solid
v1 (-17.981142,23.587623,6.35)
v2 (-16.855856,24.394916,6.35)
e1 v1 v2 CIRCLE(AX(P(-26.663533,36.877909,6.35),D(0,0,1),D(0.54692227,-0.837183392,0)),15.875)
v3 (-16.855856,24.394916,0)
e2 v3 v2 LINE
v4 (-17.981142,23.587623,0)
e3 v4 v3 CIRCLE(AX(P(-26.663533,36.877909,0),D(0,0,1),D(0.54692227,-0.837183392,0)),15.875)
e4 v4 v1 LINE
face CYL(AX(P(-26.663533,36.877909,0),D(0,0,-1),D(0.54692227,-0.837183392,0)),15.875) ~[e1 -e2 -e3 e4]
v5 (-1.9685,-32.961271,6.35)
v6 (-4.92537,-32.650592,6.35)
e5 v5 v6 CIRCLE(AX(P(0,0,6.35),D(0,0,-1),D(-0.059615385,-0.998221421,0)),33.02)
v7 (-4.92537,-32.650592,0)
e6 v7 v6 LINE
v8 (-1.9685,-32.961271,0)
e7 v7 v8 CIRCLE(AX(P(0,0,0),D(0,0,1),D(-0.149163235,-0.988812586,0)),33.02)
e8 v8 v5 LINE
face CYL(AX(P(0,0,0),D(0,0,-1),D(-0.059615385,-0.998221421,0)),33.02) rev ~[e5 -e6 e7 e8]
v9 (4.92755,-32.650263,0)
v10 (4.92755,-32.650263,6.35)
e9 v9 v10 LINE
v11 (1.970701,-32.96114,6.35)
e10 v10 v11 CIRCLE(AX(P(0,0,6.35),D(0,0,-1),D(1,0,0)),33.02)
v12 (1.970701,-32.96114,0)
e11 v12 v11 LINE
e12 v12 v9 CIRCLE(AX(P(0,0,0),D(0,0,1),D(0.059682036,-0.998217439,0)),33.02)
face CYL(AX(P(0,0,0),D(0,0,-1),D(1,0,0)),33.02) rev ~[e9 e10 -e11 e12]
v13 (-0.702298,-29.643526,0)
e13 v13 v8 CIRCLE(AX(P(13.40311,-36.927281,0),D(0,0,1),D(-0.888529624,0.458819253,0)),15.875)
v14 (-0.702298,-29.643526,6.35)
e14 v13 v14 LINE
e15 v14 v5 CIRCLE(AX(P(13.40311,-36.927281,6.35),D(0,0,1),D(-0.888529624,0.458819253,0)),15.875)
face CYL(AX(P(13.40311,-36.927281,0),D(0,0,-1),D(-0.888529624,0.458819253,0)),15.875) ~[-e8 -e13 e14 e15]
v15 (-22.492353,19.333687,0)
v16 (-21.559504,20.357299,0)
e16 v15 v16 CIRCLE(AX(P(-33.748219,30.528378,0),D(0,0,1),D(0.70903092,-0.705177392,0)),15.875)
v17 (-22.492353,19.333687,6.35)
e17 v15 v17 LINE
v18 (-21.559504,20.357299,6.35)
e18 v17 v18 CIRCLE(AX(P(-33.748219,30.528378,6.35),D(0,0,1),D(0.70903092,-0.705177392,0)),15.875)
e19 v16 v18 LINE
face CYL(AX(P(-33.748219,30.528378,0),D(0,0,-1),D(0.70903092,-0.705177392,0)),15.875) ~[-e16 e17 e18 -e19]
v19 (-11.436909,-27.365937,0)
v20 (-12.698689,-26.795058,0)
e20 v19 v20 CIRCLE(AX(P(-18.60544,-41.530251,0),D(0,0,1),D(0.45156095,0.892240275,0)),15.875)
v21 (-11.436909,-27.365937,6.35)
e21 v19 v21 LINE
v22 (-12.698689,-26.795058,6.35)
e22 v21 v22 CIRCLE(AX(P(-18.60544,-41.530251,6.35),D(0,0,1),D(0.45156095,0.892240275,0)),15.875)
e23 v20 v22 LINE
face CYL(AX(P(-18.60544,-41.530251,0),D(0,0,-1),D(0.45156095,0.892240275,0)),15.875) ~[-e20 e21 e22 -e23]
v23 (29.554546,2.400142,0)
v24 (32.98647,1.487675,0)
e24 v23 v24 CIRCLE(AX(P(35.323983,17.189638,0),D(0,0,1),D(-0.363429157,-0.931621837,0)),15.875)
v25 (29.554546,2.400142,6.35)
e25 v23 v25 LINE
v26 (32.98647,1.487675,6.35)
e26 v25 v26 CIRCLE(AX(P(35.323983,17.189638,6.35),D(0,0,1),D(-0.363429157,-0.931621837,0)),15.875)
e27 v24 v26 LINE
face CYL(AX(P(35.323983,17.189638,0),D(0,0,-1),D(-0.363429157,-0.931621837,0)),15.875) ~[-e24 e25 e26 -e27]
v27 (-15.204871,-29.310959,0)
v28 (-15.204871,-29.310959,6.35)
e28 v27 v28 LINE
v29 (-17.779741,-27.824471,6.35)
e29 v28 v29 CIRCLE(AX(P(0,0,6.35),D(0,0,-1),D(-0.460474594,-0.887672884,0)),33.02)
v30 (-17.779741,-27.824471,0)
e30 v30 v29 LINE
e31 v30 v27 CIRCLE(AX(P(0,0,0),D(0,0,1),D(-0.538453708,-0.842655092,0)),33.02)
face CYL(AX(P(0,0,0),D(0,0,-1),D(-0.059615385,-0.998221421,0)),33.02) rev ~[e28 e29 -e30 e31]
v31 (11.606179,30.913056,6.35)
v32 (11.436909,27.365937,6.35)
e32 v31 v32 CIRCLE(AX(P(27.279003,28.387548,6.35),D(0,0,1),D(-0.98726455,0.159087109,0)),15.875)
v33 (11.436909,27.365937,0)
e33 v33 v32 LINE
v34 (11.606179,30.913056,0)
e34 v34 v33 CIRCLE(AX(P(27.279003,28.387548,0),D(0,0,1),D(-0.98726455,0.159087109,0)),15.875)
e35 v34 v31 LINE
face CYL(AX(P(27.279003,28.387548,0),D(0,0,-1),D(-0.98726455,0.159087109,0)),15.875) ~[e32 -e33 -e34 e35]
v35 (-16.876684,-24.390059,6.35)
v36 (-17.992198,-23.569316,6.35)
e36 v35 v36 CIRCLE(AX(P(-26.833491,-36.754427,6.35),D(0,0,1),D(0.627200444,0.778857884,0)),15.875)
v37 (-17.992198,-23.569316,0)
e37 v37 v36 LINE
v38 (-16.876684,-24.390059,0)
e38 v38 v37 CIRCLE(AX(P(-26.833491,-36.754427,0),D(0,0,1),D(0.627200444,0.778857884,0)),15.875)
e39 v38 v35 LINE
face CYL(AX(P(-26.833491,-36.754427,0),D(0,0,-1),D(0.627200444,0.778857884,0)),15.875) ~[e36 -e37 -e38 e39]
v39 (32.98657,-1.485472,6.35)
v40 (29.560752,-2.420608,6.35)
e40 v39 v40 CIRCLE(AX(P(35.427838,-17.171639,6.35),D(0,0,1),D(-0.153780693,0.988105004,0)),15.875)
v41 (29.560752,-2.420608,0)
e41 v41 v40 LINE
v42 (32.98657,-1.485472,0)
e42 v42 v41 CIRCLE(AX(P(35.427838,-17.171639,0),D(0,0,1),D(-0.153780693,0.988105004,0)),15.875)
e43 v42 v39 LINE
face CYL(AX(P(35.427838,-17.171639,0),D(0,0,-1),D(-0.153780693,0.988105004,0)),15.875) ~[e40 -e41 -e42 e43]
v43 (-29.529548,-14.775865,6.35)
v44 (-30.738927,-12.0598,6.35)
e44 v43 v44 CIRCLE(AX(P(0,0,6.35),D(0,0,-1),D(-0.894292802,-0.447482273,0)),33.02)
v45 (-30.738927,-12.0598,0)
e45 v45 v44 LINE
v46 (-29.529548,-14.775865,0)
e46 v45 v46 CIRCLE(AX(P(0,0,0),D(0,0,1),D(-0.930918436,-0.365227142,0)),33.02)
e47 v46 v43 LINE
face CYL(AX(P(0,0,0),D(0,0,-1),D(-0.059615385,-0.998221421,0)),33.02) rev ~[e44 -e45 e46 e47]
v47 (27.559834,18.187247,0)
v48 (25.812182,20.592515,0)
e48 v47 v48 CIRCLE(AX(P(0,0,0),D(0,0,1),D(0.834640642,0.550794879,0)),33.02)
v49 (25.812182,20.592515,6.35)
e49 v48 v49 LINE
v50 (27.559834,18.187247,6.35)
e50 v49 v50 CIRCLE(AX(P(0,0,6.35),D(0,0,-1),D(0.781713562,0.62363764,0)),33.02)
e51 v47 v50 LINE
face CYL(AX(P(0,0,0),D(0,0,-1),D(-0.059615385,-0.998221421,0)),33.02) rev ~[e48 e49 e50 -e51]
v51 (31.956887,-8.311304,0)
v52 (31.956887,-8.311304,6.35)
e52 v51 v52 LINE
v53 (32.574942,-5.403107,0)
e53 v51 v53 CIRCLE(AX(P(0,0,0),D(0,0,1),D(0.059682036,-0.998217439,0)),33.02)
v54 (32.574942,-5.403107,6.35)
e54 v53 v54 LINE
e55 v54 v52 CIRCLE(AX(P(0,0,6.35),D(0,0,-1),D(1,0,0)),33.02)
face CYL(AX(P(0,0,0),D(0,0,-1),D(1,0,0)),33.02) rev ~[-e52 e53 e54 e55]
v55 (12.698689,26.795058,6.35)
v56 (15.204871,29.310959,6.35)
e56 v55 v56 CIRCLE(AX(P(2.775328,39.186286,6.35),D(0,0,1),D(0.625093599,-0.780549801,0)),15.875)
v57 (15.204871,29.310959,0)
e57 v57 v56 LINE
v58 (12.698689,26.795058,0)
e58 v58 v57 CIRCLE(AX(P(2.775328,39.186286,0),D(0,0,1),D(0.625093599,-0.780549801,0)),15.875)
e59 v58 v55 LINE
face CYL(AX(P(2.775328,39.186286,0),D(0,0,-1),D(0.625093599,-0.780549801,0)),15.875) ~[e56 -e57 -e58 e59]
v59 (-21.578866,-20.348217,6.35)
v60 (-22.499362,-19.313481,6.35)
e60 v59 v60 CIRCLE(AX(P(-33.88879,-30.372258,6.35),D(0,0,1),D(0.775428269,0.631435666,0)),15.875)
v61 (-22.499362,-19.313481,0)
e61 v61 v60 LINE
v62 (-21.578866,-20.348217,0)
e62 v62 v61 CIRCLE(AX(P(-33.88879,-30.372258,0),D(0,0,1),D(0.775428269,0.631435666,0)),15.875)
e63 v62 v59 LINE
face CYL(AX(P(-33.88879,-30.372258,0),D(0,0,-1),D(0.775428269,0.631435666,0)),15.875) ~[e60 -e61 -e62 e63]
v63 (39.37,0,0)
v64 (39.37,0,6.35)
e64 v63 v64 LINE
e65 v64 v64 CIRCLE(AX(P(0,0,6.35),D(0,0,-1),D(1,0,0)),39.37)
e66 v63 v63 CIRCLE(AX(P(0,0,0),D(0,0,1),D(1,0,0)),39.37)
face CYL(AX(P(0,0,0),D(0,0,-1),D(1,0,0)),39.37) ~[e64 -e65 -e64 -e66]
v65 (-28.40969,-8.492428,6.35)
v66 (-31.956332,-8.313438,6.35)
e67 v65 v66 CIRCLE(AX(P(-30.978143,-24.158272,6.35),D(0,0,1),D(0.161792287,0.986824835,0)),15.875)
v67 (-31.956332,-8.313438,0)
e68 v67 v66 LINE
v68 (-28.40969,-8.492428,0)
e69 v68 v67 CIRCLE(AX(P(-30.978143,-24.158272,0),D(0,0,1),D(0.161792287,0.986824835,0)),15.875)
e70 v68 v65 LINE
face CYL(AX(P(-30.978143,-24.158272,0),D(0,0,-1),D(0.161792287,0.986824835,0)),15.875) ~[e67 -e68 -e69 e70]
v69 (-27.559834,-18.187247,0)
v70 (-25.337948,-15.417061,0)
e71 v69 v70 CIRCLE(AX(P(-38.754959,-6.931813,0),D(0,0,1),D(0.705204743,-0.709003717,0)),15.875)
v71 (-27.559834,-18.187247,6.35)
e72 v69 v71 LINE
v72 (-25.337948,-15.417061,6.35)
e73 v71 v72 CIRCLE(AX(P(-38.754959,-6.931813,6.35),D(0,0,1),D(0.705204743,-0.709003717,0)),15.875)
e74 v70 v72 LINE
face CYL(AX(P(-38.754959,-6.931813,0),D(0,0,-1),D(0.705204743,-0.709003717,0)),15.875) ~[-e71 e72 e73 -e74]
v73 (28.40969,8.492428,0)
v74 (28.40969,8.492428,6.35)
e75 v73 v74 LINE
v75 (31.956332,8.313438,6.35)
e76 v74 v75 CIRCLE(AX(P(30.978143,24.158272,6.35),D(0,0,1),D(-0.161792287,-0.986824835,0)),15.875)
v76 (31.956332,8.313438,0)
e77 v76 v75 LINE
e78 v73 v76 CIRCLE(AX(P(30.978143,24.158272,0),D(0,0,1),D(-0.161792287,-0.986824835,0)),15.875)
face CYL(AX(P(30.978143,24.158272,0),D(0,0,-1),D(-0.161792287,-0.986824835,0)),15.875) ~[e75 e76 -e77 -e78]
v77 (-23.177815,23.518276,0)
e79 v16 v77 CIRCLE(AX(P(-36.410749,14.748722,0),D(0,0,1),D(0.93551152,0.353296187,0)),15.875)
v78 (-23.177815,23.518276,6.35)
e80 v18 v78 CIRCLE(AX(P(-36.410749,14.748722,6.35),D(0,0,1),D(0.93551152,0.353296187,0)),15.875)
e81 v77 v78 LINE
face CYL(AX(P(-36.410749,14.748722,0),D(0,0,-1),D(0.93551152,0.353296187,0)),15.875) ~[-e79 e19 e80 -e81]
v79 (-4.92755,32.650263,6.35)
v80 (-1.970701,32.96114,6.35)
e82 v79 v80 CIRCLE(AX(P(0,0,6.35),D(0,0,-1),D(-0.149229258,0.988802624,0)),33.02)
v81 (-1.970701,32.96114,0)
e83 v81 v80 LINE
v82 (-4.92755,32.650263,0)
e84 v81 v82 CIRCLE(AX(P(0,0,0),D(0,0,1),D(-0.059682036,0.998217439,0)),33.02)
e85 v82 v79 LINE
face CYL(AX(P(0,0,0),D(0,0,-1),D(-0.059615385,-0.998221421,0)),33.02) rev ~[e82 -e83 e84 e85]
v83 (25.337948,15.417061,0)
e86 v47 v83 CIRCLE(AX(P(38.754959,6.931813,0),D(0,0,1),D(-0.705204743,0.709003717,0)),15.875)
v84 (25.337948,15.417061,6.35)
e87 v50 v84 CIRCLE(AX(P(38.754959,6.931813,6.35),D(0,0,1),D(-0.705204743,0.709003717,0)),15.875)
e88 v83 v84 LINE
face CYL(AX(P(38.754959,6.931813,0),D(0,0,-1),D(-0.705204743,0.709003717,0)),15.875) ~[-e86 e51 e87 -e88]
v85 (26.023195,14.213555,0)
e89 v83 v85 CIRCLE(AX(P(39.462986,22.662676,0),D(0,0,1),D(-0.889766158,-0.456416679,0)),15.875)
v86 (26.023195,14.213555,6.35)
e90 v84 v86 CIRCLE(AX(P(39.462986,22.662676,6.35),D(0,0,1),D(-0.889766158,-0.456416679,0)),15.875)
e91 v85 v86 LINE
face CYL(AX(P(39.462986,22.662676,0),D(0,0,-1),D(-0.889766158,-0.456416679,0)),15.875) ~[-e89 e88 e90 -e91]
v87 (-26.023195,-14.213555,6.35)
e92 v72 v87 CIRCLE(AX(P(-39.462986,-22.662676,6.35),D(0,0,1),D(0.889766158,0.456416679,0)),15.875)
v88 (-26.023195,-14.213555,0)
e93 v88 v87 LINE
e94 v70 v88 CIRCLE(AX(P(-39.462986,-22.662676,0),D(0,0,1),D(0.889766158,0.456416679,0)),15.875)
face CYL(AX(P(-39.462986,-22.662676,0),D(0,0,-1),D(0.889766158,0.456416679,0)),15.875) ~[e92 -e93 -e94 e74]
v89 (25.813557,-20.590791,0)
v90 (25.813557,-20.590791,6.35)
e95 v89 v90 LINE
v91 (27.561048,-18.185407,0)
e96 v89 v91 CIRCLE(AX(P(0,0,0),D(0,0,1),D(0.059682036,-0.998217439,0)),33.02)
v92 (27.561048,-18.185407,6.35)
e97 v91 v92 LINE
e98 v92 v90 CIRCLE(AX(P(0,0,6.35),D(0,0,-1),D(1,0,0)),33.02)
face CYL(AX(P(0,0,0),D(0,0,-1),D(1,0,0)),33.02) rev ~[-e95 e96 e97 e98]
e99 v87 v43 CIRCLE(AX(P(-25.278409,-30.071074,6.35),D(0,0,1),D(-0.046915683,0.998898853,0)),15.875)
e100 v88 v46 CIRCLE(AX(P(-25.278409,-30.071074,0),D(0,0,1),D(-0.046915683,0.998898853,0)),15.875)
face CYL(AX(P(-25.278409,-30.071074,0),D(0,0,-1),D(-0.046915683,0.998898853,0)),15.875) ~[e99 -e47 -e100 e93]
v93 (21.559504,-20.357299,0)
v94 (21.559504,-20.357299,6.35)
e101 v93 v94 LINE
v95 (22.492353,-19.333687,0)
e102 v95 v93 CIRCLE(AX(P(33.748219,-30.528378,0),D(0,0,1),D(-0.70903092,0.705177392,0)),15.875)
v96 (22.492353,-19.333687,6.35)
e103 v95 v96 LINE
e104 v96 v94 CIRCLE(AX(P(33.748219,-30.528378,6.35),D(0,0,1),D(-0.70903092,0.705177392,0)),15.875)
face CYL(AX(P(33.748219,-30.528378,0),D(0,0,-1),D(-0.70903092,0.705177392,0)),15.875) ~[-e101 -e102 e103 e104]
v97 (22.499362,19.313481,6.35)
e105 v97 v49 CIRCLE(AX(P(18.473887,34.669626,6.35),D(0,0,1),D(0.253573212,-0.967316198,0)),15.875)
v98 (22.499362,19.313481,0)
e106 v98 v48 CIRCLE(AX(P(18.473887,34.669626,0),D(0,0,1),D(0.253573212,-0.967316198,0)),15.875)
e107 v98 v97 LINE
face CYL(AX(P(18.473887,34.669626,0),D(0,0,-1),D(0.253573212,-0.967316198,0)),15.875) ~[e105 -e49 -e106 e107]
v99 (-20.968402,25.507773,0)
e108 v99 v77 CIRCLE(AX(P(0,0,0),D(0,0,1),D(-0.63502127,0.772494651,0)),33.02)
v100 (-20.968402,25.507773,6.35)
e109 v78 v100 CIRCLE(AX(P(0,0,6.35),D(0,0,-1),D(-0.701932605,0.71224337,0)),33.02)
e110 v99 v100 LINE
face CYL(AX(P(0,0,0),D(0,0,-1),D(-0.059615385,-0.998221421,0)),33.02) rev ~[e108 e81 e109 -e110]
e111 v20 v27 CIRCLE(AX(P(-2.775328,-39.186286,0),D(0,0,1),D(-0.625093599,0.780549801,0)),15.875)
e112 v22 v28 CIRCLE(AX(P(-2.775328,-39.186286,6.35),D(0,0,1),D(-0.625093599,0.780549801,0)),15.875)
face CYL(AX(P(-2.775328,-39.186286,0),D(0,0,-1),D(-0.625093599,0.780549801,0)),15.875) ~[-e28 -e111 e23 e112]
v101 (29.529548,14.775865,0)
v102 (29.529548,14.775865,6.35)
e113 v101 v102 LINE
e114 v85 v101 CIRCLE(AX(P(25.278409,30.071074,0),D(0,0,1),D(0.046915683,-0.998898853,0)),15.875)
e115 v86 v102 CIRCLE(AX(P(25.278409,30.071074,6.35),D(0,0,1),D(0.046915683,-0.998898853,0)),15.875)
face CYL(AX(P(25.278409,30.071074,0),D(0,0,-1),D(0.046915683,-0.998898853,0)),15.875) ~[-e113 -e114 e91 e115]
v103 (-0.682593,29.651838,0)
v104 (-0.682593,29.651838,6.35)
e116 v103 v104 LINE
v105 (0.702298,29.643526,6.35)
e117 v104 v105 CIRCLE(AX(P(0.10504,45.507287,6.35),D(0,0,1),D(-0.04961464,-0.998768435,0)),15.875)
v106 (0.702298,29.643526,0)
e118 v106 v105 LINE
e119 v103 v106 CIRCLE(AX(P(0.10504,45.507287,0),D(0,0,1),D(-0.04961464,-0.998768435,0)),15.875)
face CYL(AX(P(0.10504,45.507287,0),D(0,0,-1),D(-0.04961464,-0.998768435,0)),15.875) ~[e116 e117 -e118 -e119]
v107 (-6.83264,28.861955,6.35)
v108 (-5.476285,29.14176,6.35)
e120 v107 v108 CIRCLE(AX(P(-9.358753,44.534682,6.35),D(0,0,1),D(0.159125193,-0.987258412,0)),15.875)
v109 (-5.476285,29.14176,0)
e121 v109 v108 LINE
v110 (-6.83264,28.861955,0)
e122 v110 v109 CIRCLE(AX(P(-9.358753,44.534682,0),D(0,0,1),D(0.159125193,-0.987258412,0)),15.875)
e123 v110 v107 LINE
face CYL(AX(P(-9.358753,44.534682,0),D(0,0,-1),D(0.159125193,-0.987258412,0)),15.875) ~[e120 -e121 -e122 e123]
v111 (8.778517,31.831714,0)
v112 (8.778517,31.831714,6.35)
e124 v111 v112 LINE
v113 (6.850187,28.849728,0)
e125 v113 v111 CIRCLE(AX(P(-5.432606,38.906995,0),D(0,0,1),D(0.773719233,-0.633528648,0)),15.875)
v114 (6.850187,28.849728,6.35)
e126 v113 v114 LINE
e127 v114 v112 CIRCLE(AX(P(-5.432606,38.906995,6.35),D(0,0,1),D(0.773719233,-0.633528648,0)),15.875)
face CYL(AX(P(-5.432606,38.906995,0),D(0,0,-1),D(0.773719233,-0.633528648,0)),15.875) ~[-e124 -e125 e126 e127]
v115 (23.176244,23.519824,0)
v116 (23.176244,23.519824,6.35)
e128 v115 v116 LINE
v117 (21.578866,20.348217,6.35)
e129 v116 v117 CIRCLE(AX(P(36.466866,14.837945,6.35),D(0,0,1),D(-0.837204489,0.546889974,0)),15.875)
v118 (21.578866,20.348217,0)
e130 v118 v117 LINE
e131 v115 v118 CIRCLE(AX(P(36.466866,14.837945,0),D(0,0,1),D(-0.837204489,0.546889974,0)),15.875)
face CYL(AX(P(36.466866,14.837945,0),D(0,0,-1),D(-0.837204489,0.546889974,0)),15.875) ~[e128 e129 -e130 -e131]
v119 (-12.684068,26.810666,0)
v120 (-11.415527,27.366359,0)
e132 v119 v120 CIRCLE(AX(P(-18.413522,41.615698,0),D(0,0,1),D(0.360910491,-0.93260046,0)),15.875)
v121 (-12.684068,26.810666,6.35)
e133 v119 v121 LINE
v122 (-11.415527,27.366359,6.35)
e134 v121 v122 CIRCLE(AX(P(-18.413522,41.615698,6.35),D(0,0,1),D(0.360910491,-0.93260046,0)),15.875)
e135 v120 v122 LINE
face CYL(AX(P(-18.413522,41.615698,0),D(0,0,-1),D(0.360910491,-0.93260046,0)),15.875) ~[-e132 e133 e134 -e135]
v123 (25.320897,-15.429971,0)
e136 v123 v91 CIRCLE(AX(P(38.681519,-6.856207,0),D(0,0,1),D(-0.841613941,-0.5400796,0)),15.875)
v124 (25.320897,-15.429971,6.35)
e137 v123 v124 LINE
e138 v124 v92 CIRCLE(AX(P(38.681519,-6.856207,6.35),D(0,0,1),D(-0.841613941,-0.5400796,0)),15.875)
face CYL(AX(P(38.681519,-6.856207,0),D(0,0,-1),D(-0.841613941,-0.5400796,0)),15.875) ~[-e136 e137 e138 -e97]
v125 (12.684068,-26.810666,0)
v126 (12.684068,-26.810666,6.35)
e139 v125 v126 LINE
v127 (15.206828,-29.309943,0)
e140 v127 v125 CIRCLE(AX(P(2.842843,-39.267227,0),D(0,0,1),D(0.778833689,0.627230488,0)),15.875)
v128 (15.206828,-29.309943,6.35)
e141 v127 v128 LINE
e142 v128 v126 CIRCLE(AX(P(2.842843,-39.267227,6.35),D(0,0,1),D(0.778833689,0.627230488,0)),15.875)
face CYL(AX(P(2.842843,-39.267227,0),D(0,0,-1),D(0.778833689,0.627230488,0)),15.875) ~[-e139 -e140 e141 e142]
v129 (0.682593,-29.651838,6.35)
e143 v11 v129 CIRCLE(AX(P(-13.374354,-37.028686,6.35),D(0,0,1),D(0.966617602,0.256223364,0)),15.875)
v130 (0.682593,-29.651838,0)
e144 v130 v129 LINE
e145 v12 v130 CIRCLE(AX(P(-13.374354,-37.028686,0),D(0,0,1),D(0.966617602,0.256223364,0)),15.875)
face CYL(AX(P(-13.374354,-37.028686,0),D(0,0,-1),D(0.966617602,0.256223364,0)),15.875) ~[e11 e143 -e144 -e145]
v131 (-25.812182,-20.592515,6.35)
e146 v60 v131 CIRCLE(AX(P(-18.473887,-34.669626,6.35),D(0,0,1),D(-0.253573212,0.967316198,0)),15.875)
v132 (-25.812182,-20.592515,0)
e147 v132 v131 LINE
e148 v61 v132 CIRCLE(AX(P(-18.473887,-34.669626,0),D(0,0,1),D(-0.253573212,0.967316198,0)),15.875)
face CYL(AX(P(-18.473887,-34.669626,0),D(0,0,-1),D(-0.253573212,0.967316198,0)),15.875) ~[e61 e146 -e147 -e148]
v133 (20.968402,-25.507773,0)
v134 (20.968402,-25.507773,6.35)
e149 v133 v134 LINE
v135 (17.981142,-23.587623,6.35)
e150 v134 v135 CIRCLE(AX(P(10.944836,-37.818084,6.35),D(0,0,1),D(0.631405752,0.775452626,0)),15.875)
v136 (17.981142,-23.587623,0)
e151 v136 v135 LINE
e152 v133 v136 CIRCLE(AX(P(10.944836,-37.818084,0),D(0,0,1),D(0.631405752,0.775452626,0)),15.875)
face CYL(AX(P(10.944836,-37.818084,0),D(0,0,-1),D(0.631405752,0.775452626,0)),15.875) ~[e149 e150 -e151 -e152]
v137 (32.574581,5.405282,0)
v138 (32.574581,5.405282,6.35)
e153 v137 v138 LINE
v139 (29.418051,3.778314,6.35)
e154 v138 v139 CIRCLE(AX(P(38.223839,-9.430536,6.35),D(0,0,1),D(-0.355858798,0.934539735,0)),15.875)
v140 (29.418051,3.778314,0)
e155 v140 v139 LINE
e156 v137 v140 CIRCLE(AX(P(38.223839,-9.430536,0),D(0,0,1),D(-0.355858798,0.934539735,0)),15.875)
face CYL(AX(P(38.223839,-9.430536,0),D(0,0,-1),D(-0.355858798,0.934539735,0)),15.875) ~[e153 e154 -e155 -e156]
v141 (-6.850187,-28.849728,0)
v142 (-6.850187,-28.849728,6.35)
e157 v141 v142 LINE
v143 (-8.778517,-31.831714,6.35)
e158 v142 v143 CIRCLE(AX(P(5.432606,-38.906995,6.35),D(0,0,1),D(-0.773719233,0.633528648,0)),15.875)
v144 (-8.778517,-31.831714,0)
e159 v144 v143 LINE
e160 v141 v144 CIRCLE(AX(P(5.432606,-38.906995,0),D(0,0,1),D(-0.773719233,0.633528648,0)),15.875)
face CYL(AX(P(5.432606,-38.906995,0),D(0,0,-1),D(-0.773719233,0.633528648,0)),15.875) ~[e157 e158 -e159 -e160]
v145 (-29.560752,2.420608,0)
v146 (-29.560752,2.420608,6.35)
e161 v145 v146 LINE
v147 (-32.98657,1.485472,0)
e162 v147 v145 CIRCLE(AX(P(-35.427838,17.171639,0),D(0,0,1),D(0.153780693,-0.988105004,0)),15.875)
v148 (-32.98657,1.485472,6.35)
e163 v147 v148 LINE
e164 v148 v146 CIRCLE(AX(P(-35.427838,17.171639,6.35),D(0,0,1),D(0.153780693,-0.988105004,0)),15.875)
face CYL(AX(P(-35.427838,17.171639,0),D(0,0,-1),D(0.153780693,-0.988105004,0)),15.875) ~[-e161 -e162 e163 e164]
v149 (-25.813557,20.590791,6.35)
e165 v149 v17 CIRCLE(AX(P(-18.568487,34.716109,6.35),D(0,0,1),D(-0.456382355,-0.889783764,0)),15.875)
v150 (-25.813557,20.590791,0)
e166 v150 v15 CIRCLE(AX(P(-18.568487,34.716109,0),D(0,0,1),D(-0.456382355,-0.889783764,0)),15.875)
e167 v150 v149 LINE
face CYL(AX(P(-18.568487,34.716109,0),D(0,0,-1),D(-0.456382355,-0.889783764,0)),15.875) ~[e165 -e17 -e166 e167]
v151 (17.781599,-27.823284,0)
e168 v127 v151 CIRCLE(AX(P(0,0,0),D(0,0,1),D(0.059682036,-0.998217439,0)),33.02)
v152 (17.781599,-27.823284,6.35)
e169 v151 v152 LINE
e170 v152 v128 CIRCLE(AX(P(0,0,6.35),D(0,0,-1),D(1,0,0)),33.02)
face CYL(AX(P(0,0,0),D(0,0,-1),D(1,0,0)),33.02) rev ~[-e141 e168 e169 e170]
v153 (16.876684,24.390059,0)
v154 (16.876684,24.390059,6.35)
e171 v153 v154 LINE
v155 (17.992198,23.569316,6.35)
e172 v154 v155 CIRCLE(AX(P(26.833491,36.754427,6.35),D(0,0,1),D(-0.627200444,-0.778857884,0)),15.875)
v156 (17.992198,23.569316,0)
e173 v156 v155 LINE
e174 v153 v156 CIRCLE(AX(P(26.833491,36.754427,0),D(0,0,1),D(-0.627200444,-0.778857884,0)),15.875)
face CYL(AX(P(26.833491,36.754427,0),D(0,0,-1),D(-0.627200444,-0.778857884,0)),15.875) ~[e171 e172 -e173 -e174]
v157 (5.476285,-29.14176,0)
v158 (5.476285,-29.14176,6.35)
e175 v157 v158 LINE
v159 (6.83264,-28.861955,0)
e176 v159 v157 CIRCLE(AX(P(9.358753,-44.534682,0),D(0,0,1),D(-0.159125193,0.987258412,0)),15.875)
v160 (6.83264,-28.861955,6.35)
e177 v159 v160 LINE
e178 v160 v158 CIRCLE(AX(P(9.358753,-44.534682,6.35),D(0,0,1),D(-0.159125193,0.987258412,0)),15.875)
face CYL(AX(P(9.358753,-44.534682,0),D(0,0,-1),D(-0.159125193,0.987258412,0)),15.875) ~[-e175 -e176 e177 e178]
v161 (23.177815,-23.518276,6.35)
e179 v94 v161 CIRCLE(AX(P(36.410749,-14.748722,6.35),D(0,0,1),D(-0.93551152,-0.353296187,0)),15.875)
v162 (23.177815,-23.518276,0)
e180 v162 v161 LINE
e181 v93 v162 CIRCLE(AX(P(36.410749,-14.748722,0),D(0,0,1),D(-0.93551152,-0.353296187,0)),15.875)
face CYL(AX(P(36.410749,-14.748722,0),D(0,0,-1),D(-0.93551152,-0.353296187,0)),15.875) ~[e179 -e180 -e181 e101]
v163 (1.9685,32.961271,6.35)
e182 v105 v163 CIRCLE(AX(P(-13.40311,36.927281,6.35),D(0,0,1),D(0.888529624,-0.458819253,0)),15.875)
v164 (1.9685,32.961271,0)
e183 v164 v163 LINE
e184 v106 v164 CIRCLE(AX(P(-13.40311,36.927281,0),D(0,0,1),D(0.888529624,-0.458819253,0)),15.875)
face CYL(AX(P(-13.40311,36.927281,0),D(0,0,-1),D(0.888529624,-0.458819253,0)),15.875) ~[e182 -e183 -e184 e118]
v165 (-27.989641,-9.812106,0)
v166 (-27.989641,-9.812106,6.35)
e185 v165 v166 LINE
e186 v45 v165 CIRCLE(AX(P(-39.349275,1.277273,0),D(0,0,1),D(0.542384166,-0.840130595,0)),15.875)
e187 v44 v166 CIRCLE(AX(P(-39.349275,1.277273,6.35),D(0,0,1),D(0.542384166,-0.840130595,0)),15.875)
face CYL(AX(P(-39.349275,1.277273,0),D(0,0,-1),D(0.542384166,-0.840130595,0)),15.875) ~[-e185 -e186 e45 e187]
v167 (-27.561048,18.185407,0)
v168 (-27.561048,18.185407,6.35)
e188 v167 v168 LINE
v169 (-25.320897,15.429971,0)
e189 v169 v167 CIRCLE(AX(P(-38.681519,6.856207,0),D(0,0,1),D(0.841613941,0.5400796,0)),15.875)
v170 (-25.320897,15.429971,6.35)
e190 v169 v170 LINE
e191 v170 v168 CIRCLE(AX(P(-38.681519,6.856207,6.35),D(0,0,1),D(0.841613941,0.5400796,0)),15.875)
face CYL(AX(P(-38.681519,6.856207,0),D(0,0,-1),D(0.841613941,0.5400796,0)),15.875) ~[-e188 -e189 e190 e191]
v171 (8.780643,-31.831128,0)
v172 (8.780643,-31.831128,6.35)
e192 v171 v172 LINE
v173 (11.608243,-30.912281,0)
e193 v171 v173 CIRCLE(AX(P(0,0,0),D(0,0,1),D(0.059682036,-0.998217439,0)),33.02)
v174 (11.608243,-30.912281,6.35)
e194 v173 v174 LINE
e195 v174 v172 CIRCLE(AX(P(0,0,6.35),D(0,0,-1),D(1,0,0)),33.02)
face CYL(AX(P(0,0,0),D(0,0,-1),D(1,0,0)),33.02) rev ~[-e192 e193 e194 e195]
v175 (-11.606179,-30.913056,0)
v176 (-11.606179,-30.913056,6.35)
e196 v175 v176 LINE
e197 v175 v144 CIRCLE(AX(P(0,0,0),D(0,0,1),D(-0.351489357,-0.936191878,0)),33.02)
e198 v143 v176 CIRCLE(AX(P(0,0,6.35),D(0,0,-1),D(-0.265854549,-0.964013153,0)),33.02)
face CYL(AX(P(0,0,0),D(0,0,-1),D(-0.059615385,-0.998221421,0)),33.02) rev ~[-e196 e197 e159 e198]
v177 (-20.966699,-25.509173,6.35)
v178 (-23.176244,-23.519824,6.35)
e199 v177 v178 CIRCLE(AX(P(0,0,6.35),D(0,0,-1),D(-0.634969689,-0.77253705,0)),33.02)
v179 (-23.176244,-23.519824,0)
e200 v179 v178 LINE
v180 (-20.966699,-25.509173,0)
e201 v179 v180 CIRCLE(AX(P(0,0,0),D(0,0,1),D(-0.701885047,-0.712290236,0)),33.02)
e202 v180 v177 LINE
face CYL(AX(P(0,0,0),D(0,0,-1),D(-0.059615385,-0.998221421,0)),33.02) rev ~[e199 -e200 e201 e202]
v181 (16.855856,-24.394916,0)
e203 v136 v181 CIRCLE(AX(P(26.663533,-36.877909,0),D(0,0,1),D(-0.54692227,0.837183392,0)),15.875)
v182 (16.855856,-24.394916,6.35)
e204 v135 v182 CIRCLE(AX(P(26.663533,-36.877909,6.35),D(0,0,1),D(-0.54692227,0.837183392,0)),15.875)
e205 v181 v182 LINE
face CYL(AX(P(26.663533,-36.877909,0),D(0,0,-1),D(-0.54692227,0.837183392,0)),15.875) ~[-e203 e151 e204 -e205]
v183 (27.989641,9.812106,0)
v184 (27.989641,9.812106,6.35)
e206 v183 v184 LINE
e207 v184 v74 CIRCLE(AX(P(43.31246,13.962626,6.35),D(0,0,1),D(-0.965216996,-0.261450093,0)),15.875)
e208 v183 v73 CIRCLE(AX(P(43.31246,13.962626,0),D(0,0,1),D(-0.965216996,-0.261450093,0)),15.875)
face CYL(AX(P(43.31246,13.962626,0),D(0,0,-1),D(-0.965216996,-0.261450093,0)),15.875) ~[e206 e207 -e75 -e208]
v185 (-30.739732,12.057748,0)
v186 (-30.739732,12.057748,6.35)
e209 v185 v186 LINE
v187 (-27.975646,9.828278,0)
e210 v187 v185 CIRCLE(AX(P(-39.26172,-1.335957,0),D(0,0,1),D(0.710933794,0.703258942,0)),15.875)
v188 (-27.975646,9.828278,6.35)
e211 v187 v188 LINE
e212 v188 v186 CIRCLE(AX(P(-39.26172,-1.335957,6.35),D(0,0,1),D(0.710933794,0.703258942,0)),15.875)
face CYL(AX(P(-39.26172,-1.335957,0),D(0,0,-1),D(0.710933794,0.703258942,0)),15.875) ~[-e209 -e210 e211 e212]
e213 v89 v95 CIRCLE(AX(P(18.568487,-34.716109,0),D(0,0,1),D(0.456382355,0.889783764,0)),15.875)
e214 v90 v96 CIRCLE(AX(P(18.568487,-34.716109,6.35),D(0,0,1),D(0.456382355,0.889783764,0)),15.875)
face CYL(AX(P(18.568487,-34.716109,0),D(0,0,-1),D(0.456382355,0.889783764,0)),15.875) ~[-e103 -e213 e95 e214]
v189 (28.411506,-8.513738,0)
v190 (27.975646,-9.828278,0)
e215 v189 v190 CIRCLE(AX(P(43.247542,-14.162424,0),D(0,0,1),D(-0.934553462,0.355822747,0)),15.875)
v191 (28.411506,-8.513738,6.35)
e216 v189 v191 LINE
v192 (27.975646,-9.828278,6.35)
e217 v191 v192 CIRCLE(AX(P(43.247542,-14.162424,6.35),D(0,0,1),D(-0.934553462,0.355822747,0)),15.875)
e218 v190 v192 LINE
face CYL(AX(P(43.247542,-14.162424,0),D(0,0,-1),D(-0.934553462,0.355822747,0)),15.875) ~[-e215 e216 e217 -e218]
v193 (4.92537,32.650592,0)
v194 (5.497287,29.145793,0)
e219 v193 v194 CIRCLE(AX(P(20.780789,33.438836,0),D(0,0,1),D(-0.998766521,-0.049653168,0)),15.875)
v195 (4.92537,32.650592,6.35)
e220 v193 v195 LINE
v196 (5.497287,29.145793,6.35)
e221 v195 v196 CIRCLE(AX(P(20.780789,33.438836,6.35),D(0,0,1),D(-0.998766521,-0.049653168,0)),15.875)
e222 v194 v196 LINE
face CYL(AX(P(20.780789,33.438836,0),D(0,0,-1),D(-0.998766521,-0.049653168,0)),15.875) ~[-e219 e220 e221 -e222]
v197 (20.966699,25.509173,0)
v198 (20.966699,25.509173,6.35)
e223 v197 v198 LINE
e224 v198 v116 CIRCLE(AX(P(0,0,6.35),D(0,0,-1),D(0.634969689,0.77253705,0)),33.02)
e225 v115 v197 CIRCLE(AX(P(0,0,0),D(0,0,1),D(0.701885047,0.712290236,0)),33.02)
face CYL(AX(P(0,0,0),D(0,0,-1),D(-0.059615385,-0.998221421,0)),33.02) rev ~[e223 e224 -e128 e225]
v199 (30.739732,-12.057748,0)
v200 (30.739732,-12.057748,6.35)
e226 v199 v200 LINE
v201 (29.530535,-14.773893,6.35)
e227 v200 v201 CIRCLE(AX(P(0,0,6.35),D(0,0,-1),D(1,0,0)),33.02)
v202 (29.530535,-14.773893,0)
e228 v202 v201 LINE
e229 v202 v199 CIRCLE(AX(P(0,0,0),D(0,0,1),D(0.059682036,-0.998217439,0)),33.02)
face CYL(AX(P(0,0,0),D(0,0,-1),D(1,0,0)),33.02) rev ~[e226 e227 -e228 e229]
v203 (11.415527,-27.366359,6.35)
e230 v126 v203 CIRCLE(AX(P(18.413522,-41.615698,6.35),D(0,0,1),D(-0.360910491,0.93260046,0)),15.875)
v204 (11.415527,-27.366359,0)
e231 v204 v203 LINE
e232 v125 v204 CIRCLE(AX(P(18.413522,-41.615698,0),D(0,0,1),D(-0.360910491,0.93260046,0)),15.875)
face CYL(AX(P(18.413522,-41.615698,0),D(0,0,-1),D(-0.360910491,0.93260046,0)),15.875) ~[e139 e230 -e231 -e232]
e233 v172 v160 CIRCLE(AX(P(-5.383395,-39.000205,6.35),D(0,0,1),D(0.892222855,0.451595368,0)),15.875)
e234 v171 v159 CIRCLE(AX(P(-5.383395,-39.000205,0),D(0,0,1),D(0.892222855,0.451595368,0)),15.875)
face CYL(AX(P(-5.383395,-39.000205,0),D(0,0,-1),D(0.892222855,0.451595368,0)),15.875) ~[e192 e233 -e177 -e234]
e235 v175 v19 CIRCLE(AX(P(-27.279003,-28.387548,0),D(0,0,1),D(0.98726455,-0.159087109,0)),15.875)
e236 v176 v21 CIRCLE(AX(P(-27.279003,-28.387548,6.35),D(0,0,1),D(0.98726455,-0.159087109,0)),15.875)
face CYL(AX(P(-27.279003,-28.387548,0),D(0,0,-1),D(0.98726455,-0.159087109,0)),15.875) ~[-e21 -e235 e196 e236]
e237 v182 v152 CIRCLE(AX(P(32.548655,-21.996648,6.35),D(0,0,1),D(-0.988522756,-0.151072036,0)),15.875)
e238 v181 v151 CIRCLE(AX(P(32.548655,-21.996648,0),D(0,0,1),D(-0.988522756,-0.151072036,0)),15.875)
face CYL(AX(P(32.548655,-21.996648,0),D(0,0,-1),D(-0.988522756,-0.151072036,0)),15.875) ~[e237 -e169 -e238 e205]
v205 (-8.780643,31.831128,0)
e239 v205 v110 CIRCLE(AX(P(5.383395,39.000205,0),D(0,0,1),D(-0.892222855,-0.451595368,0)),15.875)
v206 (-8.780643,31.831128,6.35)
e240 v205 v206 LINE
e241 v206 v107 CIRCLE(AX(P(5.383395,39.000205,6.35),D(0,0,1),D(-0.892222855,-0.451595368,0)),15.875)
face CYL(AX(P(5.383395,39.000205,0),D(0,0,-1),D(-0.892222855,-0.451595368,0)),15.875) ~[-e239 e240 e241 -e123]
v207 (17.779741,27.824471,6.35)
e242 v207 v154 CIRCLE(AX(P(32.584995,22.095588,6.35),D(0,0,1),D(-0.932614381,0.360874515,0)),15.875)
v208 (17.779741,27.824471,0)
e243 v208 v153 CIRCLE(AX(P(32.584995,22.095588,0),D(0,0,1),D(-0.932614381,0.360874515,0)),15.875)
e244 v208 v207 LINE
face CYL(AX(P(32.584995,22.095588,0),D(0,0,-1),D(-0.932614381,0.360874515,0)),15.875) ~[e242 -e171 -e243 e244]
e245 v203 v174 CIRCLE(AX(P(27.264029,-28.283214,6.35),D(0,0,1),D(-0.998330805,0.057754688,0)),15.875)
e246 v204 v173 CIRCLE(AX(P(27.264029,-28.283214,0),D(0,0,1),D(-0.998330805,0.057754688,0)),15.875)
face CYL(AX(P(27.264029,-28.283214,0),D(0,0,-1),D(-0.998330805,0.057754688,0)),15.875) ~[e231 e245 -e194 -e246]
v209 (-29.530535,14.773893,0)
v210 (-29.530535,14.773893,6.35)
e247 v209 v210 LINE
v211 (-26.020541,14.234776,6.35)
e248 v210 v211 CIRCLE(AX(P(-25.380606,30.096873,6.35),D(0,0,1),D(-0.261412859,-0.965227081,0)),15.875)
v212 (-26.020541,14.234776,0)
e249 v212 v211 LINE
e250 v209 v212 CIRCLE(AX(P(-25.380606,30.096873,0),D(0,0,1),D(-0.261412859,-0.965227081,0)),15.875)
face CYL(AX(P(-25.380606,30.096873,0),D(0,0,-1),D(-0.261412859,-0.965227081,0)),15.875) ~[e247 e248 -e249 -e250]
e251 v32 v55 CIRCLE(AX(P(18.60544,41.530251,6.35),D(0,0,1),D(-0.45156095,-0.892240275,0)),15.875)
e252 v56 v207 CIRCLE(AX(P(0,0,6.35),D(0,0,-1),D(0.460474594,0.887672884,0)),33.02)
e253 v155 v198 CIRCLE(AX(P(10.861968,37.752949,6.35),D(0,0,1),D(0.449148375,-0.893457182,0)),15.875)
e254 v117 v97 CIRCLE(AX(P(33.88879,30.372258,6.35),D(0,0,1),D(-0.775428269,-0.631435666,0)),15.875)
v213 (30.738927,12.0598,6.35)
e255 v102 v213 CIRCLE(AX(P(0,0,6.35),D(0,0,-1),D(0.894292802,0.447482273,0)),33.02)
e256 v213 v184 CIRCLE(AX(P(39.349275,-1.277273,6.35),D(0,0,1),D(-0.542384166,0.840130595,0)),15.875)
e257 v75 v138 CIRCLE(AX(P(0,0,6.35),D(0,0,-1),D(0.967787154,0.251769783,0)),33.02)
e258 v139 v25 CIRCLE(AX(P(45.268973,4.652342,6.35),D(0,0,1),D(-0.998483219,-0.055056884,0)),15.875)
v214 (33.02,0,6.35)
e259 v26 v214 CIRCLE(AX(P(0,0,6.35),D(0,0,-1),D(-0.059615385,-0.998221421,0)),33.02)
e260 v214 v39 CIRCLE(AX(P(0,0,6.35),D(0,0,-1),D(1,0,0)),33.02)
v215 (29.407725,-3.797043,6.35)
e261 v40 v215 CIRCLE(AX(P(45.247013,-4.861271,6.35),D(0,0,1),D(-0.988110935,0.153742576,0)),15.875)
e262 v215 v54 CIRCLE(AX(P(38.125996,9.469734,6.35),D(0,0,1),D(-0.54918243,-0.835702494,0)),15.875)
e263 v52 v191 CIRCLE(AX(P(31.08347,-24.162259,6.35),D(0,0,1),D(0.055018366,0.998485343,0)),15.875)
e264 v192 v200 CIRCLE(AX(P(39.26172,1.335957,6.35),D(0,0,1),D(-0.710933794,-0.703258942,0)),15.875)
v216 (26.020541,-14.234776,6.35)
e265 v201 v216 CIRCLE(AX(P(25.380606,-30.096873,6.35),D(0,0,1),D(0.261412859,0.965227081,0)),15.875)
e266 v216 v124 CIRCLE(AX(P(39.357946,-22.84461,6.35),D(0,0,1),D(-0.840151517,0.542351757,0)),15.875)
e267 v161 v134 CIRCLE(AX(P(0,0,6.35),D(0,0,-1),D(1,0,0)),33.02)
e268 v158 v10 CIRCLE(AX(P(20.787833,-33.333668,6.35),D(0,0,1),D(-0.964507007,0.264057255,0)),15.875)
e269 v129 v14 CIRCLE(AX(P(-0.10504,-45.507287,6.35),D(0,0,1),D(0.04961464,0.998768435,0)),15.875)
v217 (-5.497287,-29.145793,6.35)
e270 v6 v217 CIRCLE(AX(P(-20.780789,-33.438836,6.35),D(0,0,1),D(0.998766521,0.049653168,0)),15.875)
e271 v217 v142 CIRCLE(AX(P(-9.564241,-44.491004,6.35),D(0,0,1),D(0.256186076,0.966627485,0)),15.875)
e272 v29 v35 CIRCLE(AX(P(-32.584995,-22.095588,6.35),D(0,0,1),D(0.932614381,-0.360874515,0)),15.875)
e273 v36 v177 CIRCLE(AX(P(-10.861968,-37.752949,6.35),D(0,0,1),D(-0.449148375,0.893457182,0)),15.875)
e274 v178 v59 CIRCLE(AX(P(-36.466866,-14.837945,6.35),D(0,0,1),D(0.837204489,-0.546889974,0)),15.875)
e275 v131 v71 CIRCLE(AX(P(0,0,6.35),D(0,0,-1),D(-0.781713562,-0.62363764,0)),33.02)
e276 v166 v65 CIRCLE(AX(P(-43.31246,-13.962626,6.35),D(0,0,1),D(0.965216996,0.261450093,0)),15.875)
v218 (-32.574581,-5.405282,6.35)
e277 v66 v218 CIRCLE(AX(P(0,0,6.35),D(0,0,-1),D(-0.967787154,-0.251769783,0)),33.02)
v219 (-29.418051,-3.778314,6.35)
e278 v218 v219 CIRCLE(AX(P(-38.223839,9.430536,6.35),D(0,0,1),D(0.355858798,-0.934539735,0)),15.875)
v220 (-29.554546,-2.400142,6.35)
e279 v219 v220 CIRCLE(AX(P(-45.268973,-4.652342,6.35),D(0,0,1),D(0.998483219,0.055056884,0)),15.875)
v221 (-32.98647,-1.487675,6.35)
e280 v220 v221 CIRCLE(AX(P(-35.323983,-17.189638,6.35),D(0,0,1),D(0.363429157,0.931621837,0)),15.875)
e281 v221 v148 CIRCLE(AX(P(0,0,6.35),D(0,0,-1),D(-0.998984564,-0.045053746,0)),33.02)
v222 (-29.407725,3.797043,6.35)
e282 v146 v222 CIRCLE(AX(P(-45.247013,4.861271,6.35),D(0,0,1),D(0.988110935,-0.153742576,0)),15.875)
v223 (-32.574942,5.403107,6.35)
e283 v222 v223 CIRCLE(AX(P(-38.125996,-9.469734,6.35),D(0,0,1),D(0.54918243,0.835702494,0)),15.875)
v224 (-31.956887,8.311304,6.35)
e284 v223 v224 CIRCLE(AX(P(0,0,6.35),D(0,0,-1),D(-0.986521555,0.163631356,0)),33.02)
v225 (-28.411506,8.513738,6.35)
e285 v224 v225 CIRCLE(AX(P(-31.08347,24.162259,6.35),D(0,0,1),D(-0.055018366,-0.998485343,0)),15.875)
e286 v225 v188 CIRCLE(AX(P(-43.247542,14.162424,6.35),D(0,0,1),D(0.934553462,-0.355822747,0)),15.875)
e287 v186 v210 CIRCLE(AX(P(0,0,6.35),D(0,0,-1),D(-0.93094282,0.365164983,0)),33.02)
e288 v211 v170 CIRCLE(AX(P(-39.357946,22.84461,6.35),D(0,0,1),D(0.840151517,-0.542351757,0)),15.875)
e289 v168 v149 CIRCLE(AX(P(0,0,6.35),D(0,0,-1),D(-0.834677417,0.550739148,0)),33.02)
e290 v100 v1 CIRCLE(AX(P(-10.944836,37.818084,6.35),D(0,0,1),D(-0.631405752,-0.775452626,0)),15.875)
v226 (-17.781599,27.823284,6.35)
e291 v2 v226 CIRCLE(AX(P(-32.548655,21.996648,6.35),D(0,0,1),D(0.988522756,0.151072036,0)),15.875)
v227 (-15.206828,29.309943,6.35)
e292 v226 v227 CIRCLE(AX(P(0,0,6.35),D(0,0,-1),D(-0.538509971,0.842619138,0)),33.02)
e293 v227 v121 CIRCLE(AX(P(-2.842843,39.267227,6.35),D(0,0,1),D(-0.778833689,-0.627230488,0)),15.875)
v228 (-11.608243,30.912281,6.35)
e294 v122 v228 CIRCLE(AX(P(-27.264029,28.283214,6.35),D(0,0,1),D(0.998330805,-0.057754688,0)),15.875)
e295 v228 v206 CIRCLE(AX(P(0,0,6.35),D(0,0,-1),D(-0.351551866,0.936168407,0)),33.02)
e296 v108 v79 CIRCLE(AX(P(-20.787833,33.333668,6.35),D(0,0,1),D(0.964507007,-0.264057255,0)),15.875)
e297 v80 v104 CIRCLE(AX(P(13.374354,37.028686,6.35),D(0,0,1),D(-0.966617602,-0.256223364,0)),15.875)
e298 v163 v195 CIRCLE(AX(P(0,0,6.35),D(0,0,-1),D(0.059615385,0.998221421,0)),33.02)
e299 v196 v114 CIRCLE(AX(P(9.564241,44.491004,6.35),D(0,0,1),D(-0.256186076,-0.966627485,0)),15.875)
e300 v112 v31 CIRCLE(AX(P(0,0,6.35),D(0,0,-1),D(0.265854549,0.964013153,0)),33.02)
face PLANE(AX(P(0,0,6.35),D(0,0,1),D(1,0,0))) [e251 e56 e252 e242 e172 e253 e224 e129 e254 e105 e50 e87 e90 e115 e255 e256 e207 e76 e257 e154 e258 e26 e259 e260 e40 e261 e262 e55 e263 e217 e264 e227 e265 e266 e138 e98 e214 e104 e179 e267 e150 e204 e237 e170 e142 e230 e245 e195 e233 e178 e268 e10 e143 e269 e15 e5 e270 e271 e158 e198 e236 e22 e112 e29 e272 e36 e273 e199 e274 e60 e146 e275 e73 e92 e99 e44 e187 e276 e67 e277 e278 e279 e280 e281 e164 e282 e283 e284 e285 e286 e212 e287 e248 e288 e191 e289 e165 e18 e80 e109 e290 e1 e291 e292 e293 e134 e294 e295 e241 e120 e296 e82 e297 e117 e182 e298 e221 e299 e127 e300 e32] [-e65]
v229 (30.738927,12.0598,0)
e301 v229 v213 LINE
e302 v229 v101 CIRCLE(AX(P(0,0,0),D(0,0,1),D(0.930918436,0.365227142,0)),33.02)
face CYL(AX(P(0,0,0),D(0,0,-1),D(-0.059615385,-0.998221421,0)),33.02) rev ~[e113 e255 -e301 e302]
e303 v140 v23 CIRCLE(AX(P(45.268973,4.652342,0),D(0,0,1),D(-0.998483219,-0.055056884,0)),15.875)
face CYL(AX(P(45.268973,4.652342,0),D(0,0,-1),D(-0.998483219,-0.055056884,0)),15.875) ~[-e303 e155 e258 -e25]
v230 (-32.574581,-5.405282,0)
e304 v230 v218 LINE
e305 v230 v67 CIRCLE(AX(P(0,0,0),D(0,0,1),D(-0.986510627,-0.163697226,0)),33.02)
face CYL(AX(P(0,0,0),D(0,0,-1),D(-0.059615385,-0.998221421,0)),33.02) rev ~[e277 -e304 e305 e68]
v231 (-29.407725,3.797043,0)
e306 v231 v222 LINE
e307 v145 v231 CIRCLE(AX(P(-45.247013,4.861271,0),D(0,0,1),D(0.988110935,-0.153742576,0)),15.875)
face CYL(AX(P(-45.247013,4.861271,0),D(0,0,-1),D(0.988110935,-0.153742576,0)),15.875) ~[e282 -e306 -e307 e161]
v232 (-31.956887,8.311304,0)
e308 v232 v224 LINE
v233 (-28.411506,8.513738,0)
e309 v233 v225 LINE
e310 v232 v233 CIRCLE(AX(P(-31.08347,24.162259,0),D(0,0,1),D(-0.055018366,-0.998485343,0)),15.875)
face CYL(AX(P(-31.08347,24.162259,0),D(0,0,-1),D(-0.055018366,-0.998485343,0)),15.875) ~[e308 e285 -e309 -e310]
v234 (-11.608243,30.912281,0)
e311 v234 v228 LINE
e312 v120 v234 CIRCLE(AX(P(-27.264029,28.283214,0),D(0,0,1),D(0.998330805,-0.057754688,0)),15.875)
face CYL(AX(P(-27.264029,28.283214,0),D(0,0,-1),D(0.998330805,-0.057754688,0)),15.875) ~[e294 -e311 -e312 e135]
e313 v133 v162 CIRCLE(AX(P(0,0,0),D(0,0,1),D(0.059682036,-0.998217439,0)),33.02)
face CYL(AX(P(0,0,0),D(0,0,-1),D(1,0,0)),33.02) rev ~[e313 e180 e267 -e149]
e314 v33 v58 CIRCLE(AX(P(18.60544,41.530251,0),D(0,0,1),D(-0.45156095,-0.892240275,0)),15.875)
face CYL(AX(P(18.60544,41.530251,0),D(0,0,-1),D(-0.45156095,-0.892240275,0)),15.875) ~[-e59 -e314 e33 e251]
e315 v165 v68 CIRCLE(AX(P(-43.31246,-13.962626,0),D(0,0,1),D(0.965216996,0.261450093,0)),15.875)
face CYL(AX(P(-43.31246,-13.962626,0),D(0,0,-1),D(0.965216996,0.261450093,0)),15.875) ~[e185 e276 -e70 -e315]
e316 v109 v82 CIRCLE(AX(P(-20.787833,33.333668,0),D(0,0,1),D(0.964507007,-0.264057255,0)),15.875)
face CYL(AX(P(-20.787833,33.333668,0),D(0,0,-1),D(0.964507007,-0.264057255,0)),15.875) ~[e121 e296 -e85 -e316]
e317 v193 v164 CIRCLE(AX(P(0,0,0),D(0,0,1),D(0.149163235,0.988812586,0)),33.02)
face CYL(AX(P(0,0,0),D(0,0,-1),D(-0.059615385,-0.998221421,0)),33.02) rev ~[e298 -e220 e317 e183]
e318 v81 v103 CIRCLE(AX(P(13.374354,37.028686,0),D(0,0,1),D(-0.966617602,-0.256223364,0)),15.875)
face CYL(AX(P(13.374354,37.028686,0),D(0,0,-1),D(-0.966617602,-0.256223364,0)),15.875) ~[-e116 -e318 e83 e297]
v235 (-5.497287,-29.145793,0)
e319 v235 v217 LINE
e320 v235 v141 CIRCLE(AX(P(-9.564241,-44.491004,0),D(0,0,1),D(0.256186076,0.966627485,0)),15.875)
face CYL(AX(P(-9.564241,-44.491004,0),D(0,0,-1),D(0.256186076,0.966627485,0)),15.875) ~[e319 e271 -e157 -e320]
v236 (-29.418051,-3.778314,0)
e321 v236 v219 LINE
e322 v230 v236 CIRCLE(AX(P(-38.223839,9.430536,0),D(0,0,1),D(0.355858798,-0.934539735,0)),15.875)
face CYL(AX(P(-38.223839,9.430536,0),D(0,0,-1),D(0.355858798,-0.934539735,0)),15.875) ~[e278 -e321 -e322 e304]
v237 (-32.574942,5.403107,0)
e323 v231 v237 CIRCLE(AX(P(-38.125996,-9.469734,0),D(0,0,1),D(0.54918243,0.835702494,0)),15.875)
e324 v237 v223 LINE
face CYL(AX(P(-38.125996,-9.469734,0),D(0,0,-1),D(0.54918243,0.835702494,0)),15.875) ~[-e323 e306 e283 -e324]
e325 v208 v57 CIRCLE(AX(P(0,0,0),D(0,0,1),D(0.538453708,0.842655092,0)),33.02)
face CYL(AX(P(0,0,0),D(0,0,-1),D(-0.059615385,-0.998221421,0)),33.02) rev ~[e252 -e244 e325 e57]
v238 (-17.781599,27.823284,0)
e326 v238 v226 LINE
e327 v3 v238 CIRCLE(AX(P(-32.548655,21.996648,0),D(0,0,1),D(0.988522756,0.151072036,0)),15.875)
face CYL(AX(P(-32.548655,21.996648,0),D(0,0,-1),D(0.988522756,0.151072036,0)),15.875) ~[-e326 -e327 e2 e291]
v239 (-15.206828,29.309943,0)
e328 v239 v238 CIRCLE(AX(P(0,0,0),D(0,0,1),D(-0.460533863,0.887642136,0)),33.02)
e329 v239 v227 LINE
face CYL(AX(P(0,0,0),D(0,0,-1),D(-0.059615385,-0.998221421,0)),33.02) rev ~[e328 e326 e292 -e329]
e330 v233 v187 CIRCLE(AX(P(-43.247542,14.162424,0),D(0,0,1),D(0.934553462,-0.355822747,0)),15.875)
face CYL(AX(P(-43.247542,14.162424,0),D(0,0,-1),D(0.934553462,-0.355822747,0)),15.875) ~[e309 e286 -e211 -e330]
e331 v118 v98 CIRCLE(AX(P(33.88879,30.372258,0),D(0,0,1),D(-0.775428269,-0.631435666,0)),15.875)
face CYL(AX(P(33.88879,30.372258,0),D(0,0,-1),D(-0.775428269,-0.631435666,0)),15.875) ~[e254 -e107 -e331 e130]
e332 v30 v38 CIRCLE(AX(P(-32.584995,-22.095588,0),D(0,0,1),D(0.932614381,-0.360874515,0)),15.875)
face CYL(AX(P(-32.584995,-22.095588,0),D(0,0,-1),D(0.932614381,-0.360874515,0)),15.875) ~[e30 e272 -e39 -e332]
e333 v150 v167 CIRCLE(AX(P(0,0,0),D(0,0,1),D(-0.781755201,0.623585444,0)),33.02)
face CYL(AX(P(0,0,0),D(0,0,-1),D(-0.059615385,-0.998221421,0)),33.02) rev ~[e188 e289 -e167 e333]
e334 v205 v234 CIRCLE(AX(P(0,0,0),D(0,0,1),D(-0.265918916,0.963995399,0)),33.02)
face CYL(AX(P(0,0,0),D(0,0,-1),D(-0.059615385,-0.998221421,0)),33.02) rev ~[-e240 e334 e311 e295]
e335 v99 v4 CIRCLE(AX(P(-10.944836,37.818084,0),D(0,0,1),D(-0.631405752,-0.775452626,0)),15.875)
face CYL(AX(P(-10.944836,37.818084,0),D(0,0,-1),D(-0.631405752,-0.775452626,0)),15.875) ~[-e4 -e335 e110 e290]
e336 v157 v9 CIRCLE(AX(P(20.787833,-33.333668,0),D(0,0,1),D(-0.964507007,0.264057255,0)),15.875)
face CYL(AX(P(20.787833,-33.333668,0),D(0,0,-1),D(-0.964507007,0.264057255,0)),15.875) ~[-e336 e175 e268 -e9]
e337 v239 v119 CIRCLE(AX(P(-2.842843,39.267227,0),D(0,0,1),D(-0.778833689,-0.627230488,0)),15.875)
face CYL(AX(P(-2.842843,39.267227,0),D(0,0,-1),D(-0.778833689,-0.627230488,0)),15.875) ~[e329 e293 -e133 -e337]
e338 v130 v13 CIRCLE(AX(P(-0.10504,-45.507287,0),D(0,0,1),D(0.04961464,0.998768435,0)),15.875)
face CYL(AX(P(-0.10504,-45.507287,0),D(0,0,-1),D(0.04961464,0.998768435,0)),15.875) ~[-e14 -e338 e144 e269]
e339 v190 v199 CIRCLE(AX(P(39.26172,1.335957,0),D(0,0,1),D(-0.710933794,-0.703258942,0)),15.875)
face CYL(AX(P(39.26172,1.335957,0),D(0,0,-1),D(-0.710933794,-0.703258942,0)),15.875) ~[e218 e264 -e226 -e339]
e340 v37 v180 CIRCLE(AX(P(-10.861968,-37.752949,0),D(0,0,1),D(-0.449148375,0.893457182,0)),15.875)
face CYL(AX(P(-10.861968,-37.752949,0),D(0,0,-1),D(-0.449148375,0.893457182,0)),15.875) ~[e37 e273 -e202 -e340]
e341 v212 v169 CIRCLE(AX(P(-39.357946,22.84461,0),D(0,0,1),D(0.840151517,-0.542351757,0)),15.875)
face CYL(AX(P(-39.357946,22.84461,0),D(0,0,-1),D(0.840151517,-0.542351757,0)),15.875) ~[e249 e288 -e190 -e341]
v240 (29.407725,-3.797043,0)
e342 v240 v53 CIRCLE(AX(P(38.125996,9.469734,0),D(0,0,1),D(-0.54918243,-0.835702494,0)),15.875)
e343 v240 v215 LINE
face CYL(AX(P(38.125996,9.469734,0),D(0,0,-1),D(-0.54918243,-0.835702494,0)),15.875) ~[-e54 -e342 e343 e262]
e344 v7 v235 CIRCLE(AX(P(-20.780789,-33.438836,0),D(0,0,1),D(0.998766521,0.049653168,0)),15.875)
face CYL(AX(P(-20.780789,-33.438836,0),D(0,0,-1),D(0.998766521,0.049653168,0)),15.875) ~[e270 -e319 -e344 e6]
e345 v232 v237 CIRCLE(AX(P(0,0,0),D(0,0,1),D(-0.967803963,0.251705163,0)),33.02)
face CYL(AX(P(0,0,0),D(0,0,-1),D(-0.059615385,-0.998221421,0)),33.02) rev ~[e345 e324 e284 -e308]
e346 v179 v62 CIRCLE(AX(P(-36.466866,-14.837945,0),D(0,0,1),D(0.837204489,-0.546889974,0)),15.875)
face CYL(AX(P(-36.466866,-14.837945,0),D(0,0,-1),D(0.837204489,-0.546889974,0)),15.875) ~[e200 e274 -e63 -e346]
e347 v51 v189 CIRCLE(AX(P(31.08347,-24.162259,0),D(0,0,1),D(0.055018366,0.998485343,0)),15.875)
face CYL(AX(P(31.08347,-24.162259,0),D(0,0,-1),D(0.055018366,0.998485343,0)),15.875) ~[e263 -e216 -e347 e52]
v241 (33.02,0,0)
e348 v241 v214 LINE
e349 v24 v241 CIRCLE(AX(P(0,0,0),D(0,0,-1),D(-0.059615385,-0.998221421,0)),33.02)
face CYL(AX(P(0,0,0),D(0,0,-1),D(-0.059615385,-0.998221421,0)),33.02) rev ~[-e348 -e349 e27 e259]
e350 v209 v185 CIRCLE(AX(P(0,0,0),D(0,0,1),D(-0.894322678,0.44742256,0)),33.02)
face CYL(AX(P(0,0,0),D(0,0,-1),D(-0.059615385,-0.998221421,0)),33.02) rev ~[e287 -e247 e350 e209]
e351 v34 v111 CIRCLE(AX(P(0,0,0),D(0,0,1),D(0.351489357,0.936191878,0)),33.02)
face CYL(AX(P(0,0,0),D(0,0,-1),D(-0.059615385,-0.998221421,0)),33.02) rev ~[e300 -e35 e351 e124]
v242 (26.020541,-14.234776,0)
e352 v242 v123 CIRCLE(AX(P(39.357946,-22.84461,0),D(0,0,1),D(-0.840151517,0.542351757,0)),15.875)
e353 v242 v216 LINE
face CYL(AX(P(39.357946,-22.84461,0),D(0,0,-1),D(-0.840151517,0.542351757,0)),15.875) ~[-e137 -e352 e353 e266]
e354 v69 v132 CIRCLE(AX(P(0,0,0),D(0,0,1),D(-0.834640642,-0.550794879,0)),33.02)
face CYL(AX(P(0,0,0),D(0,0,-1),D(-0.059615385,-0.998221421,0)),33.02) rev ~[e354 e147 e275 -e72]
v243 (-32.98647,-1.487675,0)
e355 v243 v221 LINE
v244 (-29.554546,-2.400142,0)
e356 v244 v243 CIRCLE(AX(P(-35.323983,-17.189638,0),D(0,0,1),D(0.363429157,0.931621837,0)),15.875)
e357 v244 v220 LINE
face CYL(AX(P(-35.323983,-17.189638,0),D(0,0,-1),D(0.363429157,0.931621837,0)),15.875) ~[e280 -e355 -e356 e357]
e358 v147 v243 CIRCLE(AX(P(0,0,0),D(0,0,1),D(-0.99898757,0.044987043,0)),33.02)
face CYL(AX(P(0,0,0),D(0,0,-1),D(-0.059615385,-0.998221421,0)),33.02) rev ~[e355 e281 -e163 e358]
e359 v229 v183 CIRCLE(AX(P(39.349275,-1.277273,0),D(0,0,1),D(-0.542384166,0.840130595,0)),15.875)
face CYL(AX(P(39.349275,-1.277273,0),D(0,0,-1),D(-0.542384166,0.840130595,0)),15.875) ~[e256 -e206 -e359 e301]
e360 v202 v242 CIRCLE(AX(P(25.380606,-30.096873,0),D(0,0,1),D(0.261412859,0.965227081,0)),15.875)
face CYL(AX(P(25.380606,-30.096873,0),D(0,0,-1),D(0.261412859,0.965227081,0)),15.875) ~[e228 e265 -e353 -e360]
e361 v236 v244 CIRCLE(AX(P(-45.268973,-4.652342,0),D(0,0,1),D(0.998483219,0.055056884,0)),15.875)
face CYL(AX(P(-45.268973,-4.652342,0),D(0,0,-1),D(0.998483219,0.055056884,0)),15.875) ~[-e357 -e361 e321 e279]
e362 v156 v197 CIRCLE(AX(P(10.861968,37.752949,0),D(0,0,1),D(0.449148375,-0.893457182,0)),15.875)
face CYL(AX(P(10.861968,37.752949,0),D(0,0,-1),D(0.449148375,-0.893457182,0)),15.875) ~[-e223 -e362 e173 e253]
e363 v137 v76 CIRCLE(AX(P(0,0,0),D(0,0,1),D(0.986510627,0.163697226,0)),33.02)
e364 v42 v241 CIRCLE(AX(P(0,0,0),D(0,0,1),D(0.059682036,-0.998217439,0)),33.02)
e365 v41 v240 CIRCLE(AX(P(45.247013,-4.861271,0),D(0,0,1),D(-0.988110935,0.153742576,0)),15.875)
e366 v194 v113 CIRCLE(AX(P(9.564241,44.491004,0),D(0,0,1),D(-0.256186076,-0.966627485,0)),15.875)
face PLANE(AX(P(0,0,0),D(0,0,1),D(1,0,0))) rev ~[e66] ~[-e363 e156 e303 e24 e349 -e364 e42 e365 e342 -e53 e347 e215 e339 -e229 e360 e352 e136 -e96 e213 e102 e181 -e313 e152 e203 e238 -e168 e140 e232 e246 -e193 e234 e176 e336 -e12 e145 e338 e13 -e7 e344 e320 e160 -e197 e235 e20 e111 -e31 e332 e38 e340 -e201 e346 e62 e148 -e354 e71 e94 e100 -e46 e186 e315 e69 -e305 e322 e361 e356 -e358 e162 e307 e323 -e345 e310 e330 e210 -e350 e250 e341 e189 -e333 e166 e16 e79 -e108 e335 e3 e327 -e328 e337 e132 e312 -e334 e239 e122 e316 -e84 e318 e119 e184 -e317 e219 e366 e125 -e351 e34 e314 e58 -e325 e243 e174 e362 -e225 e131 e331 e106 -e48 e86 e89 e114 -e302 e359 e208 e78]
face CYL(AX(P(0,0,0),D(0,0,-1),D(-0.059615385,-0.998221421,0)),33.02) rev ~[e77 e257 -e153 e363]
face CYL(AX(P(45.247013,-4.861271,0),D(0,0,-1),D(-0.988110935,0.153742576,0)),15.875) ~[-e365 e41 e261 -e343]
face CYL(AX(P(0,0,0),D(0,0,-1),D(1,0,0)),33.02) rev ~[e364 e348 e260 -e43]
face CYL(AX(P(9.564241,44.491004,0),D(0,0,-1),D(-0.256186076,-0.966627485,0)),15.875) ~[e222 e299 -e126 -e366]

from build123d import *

# Parameters (mm, degrees)
F0_R     = 39.37
F1_DEPTH = 6.35
F2_COUNT = 30


with BuildPart() as f1:
    # F0 (on Top) → F1 (new body)
    with BuildSketch(Plane.XY):
        Circle(F0_R)
        with BuildLine():
            ThreePointArc((-1.9685, -32.9612713309), (-22.6420022304, 24.0345612608), (33.02, 0))
            ThreePointArc((33.02, 0), (24.0353171546, -22.6411998197), (1.9707008312, -32.96113982))
            ThreePointArc((1.9707008312, -32.96113982), (0.0011023785, -33.0199999816), (-1.9685, -32.9612713309))
        make_face(mode=Mode.SUBTRACT)
        with BuildLine():
            ThreePointArc((-0.7022979433, -29.6435257665), (-1.4284612467, -31.2668817673), (-1.9685, -32.9612713309))
            ThreePointArc((-1.9685, -32.9612713309), (0.0011023785, -33.0199999816), (1.9707008312, -32.96113982))
            ThreePointArc((1.9707008312, -32.96113982), (1.4194721848, -31.2703575076), (0.6825926623, -29.6518376845))
            ThreePointArc((0.6825926623, -29.6518376845), (-0.0097619571, -29.6325725152), (-0.7022979433, -29.6435257665))
        make_face()
    extrude(amount=F1_DEPTH)

    # F2: F1 ×30 about axis
    f2_axis = Axis((0, 0, 0), (0, 0, -1))


with BuildPart() as f1_1:
    add(f1.part)
    for i in range(1, F2_COUNT):
        add(f1.part.rotate(f2_axis, i * 360 / F2_COUNT))


solid = f1_1.part
